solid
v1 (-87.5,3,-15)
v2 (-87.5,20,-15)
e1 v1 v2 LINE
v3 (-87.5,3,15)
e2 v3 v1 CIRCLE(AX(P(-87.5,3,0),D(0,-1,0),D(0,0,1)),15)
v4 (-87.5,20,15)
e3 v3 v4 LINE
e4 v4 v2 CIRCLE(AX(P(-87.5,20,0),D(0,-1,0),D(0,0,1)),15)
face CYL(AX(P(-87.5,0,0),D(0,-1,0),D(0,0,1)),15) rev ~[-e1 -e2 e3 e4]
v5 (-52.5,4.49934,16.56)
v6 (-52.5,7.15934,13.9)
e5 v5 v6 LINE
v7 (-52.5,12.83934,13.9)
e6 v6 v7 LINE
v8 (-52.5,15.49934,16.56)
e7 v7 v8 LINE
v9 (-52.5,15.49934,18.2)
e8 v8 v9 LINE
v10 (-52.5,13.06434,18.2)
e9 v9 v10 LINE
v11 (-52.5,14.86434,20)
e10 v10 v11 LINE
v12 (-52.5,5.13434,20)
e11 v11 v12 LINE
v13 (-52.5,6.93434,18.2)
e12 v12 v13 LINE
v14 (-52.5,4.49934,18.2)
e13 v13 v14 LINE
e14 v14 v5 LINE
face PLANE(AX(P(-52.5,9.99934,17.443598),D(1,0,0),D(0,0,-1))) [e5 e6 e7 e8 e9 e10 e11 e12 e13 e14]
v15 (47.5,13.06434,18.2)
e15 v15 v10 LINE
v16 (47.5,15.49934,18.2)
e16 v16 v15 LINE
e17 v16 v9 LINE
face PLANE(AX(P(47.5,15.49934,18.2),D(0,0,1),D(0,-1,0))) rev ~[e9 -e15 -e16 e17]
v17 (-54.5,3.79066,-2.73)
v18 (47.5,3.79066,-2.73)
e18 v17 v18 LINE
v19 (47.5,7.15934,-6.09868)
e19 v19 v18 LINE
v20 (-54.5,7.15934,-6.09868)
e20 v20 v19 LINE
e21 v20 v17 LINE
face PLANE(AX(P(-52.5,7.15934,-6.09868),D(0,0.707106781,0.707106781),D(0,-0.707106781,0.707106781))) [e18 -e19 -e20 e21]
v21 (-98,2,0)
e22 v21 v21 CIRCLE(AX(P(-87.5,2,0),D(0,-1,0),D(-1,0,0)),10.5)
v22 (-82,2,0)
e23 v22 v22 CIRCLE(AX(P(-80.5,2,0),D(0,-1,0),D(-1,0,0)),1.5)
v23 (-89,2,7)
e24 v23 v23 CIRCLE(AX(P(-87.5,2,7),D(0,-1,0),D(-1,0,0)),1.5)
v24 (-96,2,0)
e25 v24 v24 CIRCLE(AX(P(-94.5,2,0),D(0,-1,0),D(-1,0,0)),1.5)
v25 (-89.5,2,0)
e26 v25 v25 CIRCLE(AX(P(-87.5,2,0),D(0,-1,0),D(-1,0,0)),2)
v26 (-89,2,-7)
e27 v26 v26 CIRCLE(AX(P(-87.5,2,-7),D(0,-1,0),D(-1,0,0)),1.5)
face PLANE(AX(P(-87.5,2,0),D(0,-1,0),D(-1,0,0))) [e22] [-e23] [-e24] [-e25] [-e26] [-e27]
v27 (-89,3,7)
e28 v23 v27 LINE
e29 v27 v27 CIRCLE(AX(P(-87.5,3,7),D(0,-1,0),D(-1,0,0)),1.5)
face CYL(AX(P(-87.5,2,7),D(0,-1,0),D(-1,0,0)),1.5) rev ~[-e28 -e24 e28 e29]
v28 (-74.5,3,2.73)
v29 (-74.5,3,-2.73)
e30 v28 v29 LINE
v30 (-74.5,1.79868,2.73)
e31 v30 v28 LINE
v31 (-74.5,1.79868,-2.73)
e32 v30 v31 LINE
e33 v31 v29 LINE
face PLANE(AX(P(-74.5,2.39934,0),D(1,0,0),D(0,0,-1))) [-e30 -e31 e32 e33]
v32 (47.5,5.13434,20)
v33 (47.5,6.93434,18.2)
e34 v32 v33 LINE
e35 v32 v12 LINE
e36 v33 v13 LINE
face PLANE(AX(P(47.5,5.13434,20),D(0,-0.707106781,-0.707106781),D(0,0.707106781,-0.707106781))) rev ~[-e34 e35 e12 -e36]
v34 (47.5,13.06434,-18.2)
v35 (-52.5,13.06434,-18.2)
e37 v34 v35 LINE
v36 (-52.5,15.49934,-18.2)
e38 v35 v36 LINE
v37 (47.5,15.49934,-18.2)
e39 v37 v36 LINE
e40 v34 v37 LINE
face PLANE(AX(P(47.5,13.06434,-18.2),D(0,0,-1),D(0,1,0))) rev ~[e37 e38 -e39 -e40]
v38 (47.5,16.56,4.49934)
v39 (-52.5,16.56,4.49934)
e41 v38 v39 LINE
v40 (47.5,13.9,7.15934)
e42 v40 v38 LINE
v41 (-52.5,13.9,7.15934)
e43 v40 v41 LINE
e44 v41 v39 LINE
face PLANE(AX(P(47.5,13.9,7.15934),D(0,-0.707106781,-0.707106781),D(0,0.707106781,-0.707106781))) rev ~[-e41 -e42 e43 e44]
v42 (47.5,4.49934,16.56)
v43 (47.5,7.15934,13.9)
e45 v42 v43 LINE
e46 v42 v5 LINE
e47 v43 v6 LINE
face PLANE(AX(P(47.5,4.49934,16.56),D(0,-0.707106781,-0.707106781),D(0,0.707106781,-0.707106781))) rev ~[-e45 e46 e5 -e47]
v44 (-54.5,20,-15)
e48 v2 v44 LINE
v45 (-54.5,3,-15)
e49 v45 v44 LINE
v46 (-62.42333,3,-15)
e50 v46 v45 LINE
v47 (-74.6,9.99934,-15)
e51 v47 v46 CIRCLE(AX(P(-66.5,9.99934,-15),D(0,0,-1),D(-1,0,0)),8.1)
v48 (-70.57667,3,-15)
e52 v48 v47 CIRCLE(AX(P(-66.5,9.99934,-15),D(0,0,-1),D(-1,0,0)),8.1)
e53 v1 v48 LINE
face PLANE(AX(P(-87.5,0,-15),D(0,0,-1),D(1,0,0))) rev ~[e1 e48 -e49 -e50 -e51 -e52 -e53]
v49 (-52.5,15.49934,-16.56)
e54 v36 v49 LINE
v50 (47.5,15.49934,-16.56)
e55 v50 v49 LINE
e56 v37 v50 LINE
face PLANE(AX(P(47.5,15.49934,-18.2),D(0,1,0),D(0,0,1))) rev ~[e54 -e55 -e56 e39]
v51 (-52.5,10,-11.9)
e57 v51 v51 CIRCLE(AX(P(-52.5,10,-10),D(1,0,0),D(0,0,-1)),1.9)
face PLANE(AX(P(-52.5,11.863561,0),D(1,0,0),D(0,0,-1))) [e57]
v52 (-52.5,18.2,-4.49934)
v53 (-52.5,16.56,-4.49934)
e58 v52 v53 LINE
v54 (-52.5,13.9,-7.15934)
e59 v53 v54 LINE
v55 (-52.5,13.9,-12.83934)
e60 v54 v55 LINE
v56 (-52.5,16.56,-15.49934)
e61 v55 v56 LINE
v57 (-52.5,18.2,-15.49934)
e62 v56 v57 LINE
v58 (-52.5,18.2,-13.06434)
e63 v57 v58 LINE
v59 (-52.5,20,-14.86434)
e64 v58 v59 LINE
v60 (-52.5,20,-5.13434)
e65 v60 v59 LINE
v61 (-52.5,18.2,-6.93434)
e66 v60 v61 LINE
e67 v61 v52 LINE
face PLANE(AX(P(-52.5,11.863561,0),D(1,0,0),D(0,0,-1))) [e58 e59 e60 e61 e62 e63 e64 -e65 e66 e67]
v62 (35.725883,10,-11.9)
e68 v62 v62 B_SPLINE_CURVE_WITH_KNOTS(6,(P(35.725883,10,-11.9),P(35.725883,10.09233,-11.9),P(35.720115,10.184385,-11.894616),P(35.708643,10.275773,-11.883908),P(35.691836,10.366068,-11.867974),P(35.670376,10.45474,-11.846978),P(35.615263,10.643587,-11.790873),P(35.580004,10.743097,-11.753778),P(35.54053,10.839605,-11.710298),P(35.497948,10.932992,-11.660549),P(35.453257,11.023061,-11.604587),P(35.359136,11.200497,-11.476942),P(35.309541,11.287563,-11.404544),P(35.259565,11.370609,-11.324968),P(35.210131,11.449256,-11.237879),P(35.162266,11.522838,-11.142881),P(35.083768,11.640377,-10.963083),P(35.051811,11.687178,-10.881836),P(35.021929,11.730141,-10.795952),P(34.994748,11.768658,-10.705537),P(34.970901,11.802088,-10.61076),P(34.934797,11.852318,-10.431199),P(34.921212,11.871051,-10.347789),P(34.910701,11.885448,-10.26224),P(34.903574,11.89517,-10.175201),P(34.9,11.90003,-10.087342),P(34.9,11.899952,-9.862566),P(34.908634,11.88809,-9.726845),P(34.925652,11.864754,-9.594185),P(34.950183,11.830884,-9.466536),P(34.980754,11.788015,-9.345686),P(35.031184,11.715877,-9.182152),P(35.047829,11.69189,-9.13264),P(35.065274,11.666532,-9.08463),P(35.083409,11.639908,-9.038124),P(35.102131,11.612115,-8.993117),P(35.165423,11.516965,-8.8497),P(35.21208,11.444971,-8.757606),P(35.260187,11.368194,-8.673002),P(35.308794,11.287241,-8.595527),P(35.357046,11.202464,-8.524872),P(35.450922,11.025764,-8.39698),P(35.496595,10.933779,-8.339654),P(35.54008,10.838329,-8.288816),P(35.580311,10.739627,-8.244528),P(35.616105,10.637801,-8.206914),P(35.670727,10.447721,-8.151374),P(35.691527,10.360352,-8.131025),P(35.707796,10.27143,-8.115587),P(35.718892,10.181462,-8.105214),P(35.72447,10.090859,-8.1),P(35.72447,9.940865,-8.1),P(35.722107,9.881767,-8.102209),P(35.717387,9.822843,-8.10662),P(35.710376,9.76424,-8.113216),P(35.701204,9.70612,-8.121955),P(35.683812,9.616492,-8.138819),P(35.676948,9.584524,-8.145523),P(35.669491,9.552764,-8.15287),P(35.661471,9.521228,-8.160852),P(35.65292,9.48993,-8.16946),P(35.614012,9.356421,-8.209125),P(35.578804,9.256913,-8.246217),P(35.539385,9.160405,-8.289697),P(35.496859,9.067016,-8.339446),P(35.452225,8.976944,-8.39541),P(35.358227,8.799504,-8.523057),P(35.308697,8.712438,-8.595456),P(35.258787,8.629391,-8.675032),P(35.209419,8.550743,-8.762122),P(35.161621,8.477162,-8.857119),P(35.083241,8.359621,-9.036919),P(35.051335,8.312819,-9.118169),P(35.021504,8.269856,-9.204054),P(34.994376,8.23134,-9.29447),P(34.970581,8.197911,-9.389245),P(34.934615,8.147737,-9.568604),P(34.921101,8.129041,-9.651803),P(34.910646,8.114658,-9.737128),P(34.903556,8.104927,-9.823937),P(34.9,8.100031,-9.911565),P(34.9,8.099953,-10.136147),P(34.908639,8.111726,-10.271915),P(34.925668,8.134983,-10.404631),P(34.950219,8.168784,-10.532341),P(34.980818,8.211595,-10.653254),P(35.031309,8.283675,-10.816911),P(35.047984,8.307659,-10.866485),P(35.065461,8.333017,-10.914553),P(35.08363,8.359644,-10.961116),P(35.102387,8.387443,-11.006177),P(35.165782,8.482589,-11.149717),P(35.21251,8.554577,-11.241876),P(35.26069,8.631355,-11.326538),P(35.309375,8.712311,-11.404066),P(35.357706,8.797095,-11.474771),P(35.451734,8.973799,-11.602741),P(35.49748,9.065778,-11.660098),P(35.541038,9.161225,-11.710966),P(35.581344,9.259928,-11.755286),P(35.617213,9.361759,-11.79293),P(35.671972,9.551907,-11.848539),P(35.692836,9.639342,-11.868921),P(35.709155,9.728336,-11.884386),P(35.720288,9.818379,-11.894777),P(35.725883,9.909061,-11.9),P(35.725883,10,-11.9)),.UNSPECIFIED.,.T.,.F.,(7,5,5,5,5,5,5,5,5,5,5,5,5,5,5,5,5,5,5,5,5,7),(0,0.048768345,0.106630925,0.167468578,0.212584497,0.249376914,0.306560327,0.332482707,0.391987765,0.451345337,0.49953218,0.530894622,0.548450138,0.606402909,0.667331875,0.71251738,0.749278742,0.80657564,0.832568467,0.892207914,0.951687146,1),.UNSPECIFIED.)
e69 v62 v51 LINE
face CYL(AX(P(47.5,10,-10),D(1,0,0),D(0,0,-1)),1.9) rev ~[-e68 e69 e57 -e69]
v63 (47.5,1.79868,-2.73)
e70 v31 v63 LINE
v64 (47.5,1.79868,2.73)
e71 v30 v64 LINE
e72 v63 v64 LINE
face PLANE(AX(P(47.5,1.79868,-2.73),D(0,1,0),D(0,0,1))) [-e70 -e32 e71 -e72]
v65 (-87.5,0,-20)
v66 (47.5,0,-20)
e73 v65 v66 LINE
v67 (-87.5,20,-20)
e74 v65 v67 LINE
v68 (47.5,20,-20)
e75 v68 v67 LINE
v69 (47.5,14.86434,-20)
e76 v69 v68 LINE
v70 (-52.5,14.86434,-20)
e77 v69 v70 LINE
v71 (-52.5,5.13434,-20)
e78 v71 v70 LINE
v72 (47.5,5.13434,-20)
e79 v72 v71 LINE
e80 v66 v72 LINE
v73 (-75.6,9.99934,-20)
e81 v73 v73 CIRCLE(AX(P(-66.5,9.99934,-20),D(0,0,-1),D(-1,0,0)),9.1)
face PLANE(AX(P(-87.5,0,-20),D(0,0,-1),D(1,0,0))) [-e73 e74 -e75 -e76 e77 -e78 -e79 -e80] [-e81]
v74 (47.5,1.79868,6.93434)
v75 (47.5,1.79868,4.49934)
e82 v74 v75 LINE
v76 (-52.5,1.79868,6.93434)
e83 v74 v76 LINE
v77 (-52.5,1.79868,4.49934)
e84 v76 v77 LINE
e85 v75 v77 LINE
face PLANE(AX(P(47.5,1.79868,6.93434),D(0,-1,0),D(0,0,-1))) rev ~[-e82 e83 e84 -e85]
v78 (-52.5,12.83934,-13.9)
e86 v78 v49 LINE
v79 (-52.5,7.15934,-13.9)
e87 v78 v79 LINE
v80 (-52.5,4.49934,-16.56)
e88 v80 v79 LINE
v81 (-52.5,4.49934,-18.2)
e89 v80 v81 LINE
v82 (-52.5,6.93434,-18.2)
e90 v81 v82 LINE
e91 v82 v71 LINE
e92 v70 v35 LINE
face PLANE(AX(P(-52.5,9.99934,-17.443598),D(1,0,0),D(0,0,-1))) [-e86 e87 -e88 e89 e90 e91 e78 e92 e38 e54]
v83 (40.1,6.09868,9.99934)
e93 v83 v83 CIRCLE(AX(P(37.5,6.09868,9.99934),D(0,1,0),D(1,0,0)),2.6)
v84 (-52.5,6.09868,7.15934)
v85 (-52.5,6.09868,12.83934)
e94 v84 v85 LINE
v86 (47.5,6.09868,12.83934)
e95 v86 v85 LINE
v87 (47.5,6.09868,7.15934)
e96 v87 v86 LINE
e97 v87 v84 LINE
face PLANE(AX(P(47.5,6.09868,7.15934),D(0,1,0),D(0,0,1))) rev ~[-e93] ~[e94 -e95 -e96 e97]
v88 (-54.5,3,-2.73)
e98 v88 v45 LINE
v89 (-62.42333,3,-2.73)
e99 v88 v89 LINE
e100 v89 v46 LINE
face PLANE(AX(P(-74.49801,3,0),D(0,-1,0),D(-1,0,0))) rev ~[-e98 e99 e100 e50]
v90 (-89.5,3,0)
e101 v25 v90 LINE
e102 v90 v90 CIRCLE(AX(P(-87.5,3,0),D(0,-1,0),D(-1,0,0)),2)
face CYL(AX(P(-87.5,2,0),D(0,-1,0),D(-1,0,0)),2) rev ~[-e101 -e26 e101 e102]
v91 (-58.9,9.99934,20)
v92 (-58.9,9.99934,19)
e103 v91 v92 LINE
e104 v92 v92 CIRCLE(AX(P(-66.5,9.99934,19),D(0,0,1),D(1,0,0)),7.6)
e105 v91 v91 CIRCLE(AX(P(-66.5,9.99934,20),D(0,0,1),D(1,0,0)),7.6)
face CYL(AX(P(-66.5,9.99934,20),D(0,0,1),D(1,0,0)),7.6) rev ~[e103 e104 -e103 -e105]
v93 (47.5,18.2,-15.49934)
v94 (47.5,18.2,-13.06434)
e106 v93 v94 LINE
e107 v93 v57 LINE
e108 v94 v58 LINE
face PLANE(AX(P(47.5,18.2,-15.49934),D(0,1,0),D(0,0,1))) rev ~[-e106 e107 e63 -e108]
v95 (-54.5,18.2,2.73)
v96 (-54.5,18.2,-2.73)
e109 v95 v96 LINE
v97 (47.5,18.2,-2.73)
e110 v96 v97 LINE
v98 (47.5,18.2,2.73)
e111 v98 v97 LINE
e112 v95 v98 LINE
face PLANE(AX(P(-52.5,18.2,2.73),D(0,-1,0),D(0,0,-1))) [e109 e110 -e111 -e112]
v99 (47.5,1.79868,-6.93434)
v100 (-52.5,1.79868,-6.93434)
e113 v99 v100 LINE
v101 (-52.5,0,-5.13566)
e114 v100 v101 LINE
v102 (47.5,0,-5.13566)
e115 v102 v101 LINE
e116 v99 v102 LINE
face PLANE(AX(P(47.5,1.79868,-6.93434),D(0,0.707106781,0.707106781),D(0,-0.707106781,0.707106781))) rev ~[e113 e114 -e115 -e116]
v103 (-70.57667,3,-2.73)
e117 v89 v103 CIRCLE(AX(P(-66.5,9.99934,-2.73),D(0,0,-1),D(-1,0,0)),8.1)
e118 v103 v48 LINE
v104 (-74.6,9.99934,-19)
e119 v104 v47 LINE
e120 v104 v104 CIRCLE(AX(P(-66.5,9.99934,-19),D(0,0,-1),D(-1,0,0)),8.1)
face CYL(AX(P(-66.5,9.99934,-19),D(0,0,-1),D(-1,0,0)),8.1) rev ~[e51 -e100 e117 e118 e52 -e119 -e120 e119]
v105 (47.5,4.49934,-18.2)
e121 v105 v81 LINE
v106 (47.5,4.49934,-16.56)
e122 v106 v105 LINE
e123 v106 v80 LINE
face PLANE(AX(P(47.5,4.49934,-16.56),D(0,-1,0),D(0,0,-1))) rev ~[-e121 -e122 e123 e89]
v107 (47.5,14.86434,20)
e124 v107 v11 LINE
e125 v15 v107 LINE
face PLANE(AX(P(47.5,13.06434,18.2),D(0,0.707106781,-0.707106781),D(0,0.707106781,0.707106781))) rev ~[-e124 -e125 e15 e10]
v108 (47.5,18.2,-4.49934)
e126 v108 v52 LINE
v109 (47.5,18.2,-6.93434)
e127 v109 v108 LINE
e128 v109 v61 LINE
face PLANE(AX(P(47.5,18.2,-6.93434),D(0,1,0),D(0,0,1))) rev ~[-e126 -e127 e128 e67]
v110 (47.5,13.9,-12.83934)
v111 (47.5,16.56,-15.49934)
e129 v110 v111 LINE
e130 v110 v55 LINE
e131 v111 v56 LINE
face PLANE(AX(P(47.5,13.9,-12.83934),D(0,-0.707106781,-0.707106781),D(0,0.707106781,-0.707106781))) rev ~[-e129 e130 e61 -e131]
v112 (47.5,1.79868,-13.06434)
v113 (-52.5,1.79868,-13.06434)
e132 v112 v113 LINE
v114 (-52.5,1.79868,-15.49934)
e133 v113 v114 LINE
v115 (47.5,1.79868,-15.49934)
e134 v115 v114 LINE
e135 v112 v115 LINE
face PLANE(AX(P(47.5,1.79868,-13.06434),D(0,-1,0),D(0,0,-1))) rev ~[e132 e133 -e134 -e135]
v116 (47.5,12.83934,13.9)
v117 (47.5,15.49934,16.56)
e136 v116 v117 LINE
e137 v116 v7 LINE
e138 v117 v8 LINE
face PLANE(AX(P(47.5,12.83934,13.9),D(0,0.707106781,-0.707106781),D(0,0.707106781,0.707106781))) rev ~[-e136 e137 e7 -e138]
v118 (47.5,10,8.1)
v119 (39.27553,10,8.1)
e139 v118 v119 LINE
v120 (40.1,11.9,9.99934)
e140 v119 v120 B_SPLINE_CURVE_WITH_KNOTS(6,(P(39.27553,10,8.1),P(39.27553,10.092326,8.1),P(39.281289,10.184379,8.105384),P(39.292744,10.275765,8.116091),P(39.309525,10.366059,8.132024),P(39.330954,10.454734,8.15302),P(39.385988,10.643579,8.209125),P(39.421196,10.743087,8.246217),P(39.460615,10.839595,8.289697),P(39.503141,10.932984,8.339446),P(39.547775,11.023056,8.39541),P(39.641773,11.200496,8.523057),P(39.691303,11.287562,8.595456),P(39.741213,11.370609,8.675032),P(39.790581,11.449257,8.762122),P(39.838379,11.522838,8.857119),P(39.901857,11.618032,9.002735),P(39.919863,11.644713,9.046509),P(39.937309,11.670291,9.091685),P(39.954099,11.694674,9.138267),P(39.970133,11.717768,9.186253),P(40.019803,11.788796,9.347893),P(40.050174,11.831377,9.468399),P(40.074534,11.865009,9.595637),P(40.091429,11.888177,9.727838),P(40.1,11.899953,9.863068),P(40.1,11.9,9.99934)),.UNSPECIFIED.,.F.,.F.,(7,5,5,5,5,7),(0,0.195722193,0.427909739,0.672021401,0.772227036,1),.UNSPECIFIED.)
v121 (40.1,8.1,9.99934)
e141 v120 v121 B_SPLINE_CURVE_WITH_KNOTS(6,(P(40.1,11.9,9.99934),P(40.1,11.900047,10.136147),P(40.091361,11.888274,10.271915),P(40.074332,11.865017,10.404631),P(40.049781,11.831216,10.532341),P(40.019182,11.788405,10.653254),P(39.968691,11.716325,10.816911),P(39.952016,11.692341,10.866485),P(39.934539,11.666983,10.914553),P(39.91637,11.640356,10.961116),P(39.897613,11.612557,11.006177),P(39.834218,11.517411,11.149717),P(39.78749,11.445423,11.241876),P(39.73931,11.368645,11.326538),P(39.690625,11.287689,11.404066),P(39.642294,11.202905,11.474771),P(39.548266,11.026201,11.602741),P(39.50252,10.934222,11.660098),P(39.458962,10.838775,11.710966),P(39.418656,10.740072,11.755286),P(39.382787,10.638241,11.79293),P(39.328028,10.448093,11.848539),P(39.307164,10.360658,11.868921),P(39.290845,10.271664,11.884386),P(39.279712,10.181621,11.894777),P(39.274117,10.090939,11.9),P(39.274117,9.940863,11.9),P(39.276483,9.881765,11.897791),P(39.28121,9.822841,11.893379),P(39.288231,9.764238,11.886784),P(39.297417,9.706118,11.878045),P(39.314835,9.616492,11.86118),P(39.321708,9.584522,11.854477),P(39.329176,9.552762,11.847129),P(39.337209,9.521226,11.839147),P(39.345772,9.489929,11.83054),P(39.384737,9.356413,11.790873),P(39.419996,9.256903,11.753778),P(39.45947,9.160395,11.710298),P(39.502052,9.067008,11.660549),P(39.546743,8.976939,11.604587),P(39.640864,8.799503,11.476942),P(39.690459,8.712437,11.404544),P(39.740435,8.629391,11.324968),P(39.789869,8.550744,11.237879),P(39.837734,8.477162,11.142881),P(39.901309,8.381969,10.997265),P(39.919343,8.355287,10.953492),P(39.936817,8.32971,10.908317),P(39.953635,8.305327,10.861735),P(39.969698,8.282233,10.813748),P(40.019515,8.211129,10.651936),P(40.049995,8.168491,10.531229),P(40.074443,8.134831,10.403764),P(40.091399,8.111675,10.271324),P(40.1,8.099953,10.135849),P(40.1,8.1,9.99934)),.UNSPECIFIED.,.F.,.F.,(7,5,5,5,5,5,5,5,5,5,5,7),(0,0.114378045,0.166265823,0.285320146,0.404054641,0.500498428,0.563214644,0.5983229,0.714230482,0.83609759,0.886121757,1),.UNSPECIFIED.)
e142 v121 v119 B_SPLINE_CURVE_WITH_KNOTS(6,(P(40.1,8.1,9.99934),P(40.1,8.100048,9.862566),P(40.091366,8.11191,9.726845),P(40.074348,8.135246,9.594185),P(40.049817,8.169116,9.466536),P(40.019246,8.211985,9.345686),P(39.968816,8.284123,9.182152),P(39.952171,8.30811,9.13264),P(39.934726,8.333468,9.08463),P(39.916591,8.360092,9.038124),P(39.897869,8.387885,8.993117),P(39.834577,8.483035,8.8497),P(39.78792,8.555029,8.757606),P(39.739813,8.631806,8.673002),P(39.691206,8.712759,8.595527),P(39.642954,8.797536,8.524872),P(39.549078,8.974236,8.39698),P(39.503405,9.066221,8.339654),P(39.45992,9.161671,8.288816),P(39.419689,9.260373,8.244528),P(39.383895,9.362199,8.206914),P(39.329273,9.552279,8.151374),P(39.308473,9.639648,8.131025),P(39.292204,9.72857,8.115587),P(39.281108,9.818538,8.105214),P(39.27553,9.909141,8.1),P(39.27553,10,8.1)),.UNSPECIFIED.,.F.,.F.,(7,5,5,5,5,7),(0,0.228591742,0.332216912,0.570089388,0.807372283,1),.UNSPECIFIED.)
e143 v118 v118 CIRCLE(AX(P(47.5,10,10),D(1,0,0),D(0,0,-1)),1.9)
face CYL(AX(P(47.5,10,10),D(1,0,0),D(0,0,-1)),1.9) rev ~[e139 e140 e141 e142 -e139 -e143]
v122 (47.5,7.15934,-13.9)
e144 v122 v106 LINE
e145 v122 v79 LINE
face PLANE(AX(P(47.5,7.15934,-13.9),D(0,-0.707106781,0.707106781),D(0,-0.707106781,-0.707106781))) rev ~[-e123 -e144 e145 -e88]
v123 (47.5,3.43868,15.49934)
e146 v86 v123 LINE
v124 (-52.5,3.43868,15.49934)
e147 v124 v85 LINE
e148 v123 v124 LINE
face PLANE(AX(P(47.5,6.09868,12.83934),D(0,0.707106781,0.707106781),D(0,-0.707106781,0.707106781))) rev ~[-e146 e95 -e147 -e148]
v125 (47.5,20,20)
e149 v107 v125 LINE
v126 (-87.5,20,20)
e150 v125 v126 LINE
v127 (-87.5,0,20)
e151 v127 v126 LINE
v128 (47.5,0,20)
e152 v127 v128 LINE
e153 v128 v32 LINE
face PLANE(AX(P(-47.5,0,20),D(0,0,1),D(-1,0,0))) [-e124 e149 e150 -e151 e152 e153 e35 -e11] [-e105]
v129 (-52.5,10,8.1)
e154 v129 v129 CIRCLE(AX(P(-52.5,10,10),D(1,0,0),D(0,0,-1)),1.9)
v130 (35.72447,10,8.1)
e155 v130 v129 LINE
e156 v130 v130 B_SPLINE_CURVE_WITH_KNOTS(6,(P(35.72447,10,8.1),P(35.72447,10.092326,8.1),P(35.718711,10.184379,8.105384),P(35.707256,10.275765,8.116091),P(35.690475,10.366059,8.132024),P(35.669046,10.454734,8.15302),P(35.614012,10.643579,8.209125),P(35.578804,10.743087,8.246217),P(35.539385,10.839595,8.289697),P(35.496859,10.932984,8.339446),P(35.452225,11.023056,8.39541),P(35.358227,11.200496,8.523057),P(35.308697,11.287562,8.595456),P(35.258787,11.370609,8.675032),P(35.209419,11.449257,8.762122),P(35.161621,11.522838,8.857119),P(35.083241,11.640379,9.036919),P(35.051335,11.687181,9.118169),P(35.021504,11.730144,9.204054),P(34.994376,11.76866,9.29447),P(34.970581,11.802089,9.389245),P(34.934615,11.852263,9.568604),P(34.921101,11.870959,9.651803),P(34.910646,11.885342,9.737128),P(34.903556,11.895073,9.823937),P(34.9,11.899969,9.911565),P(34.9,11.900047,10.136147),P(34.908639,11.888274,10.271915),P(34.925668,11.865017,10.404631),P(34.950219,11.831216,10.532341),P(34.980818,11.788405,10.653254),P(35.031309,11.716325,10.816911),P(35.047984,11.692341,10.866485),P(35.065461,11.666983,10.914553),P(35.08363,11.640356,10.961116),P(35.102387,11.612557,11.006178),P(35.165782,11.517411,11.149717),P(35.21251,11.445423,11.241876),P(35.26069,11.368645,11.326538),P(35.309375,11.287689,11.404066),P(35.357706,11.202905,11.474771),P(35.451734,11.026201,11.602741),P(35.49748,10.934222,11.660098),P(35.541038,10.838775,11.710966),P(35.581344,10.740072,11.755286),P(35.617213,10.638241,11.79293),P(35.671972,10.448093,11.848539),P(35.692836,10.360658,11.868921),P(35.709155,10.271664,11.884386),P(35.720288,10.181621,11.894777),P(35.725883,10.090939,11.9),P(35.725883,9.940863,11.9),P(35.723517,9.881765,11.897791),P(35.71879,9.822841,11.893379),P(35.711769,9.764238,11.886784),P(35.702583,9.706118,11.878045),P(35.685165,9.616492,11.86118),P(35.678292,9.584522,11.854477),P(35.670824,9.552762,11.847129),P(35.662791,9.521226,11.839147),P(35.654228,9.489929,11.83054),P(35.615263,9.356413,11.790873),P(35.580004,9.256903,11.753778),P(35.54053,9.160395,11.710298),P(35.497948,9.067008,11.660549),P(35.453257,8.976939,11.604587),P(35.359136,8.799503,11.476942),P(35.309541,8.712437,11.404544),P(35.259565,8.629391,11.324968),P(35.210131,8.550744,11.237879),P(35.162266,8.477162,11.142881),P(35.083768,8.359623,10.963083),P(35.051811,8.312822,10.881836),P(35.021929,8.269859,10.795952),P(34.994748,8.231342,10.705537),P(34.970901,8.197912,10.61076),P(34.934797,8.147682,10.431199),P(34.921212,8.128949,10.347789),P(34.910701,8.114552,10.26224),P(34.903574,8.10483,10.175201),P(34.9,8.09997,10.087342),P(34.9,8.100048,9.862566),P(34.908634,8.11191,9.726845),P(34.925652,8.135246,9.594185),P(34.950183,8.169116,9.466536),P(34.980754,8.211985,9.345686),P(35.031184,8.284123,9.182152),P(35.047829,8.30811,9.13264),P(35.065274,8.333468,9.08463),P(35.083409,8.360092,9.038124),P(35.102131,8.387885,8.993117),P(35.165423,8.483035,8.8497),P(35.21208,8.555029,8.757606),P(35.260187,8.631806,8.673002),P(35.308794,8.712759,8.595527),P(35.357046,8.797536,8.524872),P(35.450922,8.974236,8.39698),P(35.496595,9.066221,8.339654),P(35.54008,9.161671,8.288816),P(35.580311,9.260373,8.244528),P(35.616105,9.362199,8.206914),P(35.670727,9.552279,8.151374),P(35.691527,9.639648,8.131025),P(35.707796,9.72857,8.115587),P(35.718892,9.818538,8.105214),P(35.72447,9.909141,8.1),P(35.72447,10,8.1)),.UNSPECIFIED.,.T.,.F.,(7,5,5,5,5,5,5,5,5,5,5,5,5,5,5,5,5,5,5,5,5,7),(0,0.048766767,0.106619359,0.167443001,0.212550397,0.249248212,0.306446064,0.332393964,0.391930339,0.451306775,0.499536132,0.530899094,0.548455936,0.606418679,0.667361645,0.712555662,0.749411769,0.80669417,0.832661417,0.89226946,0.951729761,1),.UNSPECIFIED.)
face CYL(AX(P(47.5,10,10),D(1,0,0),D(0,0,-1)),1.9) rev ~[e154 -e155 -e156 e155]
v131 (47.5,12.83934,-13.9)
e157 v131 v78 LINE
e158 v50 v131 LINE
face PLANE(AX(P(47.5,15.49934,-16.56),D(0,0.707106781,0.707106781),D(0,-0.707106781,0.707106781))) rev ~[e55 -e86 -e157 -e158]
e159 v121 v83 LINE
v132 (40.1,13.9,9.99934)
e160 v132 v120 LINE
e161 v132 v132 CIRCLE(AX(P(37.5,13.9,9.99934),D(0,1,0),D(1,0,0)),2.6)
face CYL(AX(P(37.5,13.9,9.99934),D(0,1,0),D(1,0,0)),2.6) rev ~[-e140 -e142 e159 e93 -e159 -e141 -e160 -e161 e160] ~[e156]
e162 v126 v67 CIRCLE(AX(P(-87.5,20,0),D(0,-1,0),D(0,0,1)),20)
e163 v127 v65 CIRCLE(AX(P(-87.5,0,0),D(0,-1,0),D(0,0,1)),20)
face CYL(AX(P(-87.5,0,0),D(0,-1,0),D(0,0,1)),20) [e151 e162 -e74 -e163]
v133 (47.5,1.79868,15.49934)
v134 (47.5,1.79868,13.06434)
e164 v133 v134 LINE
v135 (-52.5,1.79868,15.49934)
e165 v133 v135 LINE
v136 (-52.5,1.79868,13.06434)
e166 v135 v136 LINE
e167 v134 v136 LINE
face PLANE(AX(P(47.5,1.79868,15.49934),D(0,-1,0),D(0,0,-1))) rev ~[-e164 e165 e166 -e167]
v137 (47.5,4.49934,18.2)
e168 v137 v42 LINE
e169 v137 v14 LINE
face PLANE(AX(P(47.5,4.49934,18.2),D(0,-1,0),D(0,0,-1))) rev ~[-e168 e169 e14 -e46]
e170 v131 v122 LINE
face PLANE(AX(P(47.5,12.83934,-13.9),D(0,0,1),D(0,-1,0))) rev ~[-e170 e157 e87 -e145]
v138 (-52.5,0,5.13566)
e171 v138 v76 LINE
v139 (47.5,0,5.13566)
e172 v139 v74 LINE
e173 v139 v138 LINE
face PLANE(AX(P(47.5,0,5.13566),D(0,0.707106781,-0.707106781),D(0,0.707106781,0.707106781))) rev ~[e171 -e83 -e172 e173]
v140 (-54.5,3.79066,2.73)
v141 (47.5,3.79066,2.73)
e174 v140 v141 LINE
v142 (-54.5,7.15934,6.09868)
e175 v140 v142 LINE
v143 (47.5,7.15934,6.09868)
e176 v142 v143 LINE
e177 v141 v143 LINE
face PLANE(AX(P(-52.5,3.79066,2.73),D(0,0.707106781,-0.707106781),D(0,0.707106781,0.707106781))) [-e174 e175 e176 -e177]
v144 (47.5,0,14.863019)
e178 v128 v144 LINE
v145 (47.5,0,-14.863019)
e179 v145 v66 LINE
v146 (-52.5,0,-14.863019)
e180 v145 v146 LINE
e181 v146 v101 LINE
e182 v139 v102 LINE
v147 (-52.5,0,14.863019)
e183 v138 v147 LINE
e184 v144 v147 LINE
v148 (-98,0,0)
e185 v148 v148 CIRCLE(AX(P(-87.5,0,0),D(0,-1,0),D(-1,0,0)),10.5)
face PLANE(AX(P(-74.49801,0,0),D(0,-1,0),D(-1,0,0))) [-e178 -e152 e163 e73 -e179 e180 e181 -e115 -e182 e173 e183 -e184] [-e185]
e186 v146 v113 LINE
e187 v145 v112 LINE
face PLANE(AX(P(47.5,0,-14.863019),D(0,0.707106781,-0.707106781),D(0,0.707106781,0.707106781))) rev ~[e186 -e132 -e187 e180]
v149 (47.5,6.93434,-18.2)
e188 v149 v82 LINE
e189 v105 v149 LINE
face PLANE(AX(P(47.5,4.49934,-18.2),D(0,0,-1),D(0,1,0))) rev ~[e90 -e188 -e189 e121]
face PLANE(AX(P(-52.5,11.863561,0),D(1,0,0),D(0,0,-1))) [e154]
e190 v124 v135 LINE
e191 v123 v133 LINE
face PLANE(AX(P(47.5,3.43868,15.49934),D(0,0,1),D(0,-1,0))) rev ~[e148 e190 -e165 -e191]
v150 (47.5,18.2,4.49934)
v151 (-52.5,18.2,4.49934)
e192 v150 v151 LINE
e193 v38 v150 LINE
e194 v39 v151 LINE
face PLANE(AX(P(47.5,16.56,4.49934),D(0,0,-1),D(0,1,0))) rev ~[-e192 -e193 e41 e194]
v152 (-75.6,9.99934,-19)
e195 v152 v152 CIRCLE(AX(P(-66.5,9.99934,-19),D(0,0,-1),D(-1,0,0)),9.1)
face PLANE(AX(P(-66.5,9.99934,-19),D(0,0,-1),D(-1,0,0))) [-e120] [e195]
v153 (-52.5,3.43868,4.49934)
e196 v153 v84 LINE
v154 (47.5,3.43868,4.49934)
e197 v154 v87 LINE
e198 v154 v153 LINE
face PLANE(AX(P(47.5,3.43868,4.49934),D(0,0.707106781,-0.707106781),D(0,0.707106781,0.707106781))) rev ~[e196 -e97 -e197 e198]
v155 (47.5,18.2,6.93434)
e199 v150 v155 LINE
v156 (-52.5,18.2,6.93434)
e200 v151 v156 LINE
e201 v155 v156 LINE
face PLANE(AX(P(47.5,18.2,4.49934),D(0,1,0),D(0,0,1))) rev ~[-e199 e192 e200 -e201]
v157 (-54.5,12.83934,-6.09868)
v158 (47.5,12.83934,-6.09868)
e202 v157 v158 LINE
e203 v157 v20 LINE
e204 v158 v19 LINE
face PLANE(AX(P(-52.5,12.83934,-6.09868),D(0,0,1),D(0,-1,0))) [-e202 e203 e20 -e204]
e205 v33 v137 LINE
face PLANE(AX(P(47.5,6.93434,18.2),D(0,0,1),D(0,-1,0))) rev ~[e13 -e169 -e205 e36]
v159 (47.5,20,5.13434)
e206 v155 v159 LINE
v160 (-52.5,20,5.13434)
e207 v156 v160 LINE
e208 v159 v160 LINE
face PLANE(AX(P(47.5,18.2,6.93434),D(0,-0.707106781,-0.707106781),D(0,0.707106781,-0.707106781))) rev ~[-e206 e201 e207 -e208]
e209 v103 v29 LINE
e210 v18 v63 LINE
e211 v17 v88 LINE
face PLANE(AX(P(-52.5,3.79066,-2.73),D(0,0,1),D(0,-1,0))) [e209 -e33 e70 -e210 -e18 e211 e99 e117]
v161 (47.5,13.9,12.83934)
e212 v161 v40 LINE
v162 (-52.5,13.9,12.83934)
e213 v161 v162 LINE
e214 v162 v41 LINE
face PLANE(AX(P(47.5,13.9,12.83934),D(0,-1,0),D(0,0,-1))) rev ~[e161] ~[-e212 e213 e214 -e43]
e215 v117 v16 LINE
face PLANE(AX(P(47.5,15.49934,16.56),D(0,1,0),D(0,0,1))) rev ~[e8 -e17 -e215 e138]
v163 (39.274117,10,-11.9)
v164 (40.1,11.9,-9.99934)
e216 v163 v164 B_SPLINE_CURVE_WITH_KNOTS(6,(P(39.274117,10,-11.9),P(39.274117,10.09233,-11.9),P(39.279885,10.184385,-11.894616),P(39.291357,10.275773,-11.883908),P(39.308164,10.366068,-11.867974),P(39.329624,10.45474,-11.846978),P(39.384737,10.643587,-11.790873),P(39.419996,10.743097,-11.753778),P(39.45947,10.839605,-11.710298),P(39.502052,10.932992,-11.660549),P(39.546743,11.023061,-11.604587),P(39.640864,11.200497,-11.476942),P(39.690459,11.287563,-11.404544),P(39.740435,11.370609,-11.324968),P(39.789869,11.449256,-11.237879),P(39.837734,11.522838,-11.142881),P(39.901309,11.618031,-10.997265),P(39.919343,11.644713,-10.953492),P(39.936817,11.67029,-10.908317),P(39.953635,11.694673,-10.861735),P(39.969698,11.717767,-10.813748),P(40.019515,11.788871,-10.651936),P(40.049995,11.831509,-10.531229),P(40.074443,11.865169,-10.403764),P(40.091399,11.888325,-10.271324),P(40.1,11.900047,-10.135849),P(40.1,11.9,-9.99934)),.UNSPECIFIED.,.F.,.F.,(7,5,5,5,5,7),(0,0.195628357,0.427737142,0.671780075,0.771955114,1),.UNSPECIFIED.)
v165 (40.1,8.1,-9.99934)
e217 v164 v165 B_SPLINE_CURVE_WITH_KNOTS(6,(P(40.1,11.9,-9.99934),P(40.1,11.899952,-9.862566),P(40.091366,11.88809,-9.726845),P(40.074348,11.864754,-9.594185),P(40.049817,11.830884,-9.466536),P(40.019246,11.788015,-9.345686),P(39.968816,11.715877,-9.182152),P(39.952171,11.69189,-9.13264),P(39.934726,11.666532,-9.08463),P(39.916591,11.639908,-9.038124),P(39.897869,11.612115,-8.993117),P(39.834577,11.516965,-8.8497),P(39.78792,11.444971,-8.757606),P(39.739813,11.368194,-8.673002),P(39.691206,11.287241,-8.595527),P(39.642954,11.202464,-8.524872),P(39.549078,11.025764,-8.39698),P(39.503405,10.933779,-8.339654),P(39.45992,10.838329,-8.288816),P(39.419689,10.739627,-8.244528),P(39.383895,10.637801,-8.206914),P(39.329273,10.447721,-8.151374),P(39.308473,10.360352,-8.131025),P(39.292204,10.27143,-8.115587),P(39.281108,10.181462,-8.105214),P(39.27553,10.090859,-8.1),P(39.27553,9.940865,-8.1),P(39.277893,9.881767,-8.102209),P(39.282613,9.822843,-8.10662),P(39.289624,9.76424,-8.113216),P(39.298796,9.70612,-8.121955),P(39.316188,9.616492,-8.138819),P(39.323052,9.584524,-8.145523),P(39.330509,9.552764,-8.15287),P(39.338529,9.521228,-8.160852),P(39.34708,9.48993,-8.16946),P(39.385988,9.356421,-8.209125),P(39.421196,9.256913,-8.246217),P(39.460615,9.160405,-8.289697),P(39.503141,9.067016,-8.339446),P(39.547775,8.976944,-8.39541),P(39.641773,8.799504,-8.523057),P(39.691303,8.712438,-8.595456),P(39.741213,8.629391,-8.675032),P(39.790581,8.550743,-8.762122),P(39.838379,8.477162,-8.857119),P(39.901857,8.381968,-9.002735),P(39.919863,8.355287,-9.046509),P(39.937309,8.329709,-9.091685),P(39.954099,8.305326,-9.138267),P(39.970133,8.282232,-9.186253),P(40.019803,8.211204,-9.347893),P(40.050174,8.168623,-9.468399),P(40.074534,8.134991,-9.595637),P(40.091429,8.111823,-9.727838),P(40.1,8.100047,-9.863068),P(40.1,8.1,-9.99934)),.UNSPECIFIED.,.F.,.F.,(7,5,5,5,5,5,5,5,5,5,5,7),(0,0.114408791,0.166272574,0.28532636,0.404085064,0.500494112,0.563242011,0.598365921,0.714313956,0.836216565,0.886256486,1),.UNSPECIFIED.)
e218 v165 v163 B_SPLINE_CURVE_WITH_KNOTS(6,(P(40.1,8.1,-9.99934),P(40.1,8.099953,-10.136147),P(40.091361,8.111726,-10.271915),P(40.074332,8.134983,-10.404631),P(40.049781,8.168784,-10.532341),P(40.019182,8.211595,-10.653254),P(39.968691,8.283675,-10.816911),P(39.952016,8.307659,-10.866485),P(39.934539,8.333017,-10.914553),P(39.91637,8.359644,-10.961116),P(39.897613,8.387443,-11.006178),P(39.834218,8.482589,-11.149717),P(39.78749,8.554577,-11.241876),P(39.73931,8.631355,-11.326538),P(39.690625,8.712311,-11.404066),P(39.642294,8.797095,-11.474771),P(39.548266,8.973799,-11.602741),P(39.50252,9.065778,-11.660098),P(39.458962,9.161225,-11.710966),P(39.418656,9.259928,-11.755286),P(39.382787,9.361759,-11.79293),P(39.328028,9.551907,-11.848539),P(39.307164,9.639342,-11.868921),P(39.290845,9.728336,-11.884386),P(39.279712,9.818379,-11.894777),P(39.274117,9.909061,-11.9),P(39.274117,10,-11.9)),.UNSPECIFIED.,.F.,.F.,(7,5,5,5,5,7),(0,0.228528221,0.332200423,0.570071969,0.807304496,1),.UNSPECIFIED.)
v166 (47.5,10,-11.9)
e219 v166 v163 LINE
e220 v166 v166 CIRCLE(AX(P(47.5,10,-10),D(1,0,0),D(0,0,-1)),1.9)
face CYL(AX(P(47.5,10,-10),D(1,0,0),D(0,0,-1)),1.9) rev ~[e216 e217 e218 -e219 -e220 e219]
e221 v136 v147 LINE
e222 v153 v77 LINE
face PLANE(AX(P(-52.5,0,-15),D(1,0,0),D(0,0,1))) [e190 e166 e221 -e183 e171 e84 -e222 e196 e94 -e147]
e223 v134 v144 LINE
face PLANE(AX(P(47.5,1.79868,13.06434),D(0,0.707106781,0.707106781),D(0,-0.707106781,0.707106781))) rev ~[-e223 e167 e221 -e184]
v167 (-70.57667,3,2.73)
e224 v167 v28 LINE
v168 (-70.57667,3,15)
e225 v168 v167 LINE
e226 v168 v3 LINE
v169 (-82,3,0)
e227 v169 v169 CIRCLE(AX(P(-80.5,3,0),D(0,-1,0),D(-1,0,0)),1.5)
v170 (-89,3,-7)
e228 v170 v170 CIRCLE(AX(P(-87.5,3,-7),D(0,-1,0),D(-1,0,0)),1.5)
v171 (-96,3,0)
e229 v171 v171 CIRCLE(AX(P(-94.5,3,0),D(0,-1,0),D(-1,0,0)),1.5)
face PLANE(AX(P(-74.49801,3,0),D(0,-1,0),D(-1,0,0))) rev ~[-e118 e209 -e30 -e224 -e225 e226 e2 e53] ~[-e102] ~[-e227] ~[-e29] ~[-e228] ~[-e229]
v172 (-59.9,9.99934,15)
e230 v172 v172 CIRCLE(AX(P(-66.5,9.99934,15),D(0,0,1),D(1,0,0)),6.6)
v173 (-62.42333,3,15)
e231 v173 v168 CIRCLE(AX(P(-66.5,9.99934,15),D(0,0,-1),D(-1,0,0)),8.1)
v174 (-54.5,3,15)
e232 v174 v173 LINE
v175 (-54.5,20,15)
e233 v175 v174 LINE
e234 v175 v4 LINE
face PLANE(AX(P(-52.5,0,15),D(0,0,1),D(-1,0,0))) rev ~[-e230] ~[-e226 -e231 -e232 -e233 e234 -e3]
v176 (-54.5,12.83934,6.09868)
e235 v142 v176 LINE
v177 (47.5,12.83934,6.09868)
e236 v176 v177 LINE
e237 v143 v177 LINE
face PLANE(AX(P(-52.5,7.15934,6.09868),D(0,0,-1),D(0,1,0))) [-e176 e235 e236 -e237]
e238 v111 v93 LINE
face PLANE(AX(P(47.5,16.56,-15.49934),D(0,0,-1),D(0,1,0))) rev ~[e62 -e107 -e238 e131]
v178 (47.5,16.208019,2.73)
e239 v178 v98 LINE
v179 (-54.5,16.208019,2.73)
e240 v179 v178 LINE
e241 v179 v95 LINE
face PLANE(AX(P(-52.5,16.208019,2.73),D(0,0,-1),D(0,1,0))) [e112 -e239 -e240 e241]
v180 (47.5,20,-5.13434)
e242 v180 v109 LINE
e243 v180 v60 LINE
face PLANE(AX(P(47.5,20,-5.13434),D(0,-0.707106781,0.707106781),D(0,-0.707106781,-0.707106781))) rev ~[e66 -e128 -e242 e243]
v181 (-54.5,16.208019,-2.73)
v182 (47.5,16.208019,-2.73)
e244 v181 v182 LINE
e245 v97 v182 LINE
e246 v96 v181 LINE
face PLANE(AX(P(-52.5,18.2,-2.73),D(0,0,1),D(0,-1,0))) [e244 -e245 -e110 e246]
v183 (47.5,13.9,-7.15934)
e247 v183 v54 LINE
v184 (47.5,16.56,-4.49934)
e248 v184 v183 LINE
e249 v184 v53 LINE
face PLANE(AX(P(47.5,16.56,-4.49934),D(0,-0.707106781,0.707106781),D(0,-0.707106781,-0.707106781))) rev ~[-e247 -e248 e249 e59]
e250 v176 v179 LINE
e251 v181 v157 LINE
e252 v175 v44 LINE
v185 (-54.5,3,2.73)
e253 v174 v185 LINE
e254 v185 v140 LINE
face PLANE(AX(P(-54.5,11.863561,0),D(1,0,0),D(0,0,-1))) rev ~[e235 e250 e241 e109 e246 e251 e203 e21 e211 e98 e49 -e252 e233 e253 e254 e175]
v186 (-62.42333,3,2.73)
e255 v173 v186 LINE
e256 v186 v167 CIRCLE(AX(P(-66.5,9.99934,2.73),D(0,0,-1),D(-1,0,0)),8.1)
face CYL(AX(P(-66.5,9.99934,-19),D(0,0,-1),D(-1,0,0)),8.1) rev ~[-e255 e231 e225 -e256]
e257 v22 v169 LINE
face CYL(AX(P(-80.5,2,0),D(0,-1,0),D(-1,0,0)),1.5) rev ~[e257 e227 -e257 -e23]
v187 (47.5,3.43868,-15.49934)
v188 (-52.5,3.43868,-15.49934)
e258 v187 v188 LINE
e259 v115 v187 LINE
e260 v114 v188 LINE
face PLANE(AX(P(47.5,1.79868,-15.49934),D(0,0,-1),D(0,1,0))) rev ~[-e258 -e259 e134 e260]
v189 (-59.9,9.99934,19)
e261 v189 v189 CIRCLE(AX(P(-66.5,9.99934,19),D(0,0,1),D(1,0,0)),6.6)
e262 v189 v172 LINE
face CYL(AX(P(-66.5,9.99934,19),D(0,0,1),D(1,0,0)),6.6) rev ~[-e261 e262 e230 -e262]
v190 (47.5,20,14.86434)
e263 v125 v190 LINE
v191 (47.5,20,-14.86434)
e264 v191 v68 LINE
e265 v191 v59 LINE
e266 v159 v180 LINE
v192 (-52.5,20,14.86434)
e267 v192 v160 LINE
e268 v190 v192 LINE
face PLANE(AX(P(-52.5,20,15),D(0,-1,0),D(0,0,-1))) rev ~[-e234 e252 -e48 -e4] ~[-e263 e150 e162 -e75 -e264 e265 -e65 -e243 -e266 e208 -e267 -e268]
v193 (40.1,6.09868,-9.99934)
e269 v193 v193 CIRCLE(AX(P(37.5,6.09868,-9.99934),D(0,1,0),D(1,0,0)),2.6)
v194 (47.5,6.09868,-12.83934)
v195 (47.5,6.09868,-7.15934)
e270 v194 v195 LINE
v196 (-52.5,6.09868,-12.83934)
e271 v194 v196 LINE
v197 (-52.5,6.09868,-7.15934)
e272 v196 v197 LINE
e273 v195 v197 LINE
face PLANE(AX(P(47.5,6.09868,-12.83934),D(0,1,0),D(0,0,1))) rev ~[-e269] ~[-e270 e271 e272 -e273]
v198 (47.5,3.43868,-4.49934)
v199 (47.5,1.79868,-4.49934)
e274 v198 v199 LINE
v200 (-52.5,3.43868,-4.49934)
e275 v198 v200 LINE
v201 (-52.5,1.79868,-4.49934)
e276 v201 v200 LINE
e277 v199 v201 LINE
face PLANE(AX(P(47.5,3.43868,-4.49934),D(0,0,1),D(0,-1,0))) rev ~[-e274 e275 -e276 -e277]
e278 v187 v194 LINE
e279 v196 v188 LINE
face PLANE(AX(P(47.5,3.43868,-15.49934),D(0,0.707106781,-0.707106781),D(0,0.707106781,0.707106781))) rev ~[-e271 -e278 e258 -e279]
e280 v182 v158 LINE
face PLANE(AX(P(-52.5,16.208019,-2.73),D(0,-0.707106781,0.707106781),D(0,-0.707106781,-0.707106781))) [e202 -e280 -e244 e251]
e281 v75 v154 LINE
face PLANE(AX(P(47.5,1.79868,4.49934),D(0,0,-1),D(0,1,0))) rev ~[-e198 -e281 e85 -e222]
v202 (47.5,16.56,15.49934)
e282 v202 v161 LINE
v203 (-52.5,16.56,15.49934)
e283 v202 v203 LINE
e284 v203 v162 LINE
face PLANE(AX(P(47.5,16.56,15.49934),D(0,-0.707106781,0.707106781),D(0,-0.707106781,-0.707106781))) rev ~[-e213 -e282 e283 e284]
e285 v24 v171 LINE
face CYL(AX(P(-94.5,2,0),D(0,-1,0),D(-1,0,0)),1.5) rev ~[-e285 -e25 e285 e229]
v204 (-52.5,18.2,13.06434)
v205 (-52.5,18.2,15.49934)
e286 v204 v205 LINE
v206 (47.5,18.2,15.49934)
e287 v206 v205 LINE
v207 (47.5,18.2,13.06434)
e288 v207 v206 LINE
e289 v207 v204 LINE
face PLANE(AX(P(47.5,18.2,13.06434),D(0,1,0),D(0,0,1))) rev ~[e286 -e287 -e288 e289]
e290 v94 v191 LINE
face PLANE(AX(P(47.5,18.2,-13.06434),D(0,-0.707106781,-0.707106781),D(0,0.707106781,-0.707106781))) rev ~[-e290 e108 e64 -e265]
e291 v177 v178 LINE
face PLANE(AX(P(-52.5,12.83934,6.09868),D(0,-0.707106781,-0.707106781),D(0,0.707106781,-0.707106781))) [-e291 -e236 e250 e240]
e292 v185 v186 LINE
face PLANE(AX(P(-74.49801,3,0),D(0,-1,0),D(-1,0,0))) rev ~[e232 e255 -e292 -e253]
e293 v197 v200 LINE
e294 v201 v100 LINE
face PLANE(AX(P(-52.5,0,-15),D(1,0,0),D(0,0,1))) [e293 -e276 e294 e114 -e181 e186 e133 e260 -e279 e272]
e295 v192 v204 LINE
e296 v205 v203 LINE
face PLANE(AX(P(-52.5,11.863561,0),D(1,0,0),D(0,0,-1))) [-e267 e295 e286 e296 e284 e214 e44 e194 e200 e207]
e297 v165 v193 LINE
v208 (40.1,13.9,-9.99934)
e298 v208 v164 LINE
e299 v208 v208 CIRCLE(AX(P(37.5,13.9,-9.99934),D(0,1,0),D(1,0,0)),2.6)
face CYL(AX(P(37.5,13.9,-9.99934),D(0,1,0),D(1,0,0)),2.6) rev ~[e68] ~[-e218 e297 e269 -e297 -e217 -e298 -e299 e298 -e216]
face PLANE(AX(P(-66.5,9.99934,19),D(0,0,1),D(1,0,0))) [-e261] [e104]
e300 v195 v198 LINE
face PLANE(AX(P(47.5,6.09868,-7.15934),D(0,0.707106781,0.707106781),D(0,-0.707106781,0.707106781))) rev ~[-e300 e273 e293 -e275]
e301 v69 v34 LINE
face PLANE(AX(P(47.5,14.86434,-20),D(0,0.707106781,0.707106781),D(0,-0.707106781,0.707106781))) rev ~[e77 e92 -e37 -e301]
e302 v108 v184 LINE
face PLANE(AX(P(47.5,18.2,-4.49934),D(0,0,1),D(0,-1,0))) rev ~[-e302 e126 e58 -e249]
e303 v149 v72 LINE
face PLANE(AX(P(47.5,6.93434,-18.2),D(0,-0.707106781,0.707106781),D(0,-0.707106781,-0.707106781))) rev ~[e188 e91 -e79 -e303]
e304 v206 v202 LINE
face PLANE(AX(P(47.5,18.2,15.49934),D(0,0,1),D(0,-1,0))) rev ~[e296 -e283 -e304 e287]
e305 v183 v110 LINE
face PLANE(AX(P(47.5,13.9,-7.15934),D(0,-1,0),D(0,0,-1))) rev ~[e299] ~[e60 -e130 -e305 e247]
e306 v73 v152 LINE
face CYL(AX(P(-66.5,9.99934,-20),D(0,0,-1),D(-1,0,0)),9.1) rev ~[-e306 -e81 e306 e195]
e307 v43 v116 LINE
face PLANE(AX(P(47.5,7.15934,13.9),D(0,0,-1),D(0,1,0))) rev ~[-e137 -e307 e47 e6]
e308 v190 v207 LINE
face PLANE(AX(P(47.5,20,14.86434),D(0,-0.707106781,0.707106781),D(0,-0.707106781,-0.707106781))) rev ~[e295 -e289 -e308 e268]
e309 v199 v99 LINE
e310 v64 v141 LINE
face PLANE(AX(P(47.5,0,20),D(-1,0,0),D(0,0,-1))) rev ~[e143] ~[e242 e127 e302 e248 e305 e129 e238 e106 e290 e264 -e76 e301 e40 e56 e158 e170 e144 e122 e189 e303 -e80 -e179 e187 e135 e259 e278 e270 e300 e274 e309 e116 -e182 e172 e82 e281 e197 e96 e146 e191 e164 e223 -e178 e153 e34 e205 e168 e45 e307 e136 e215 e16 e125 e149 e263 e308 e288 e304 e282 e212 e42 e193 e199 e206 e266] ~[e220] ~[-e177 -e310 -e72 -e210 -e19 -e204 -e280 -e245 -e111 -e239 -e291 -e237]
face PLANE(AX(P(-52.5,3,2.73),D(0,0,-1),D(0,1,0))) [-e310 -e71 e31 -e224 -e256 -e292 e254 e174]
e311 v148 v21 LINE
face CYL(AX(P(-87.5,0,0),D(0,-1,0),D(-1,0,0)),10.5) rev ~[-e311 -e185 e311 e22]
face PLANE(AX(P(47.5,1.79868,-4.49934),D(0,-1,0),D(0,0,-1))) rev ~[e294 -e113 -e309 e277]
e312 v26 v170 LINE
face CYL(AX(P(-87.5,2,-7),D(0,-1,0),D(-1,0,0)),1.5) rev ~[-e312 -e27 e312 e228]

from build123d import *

# Parameters (mm, degrees)
SKETCH1_W           = 95
SKETCH1_H           = 40
BOSS_EXTRUDE1_DEPTH = 20
BOSS_EXTRUDE3_DEPTH = 3
BOSS_EXTRUDE2_DEPTH = 20
SKETCH7_R           = 1.9
CUT_EXTRUDE5_DEPTH  = 100
BOSS_EXTRUDE4_DEPTH = 2
SKETCH10_R          = 10.5
CUT_EXTRUDE6_DEPTH  = 2
CUT_EXTRUDE7_REACH  = 20
SKETCH12_R          = 2
SKETCH12_R_2        = 1.5
SKETCH13_R          = 7.6
CUT_EXTRUDE9_DEPTH  = 1
CUT_EXTRUDE10_REACH = 41
SKETCH15_R          = 6.6
SKETCH16_R          = 2.6
CUT_EXTRUDE11_DEPTH = 14.9
SKETCH18_R          = 9.1
CUT_EXTRUDE12_DEPTH = 1
SKETCH19_R          = 8.1
CUT_EXTRUDE15_DEPTH = 34
SKETCH20_W          = 5.46
SKETCH20_H          = 1.201320344
CUT_EXTRUDE16_DEPTH = 22


with BuildPart() as part:
    # Sketch1 → Boss-Extrude1 (new body)
    with BuildSketch(Plane(origin=(0, 0, 0), x_dir=(1, 0, 0), z_dir=(0, 1, 0))):
        Rectangle(SKETCH1_W, SKETCH1_H)
    extrude(amount=BOSS_EXTRUDE1_DEPTH)

    # Sketch8 → Boss-Extrude2 (add)
    with BuildSketch(Plane(origin=(0, 0, 0), x_dir=(-1, 0, 0), z_dir=(0, -1, 0))):
        with BuildLine():
            Line((47.5, -20), (87.5, -20))
            ThreePointArc((87.5, -20), (107.5, 0), (87.5, 20))
            Line((87.5, 20), (47.5, 20))
            Line((47.5, 20), (47.5, -20))
        make_face()
        with BuildLine():
            Line((52.5, -15), (87.5, -15))
            ThreePointArc((87.5, -15), (102.5, 0), (87.5, 15))
            Line((87.5, 15), (52.5, 15))
            Line((52.5, 15), (52.5, -15))
        make_face(mode=Mode.SUBTRACT)
    extrude(amount=-BOSS_EXTRUDE2_DEPTH)

    # Sketch7 → Cut-Extrude5 (cut)
    with BuildSketch(Plane(origin=(47.5, 0, 0), x_dir=(0, 0, -1), z_dir=(1, 0, 0))):
        Polygon((-18.2, 13.064339828), (-20, 14.864339828), (-20, 5.134339828), (-18.2, 6.934339828), (-18.2, 4.499339828), (-16.56, 4.499339828), (-13.9, 7.159339828), (-13.9, 12.839339828), (-16.56, 15.499339828), (-18.2, 15.499339828), align=None)
        Polygon((-12.839339828, 13.9), (-7.159339828, 13.9), (-4.499339828, 16.56), (-4.499339828, 18.2), (-6.934339828, 18.2), (-5.134339828, 20), (-14.864339828, 20), (-13.064339828, 18.2), (-15.499339828, 18.2), (-15.499339828, 16.56), align=None)
        Polygon((-13.064339828, 1.798679656), (-14.863019485, 0), (-5.135660172, 0), (-6.934339828, 1.798679656), (-4.499339828, 1.798679656), (-4.499339828, 3.438679656), (-7.159339828, 6.098679656), (-12.839339828, 6.098679656), (-15.499339828, 3.438679656), (-15.499339828, 1.798679656), align=None)
        Polygon((14.864339828, 20), (5.134339828, 20), (6.934339828, 18.2), (4.499339828, 18.2), (4.499339828, 16.56), (7.159339828, 13.9), (12.839339828, 13.9), (15.499339828, 16.56), (15.499339828, 18.2), (13.064339828, 18.2), align=None)
        Polygon((5.135660172, 0), (14.863019485, 0), (13.064339828, 1.798679656), (15.499339828, 1.798679656), (15.499339828, 3.438679656), (12.839339828, 6.098679656), (7.159339828, 6.098679656), (4.499339828, 3.438679656), (4.499339828, 1.798679656), (6.934339828, 1.798679656), align=None)
        Polygon((20, 5.134339828), (20, 14.864339828), (18.2, 13.064339828), (18.2, 15.499339828), (16.56, 15.499339828), (13.9, 12.839339828), (13.9, 7.159339828), (16.56, 4.499339828), (18.2, 4.499339828), (18.2, 6.934339828), align=None)
        Polygon((6.098679656, 12.839339828), (6.098679656, 7.159339828), (2.73, 3.790660172), (2.73, 1.798679656), (-2.73, 1.798679656), (-2.73, 3.790660172), (-6.098679656, 7.159339828), (-6.098679656, 12.839339828), (-2.73, 16.208019485), (-2.73, 18.2), (2.73, 18.2), (2.73, 16.208019485), align=None)
        with Locations((-10, 10)):
            Circle(SKETCH7_R)
        with Locations((10, 10)):
            Circle(SKETCH7_R)
    extrude(amount=-CUT_EXTRUDE5_DEPTH, mode=Mode.SUBTRACT)



with BuildPart() as body_2:
    # Sketch8<3> → Boss-Extrude3 (new body)
    with BuildSketch(Plane(origin=(0, 0, 0), x_dir=(-1, 0, 0), z_dir=(0, -1, 0))):
        with BuildLine():
            Line((52.5, -15), (87.5, -15))
            ThreePointArc((87.5, -15), (102.5, 0), (87.5, 15))
            Line((87.5, 15), (52.5, 15))
            Line((52.5, 15), (52.5, -15))
        make_face()
    extrude(amount=-BOSS_EXTRUDE3_DEPTH)


with BuildPart() as part_1:
    add(part.part)

    add(body_2.part)  # Boss-Extrude4 merges body 2
    # Sketch9 → Boss-Extrude4 (add)
    with BuildSketch(Plane.ZY.offset(52.5)):
        Polygon((-15, 20), (-2.73, 20), (2.73, 20), (15, 20), (15, 3), (2.73, 3), (2.73, 3.790660172), (6.098679656, 7.159339828), (6.098679656, 12.839339828), (2.73, 16.208019485), (2.73, 18.2), (-2.73, 18.2), (-2.73, 16.208019485), (-6.098679656, 12.839339828), (-6.098679656, 7.159339828), (-2.73, 3.790660172), (-2.73, 3), (-15, 3), align=None)
    extrude(amount=BOSS_EXTRUDE4_DEPTH)

    # Sketch10 → Cut-Extrude6 (cut)
    with BuildSketch(Plane(origin=(0, 0, 0), x_dir=(-1, 0, 0), z_dir=(0, -1, 0))):
        with Locations((87.5, 0)):
            Circle(SKETCH10_R)
    extrude(amount=-CUT_EXTRUDE6_DEPTH, mode=Mode.SUBTRACT)

    # Sketch12 → Cut-Extrude7 (cut, up to next)
    with BuildSketch(Plane(origin=(0, 2, 0), x_dir=(-1, 0, 0), z_dir=(0, -1, 0)), mode=Mode.PRIVATE) as cut_extrude7_sk1:
        with Locations((87.5, 0)):
            Circle(SKETCH12_R)
    cut_extrude7_tool1 = extrude(cut_extrude7_sk1.sketch, amount=-CUT_EXTRUDE7_REACH, mode=Mode.PRIVATE) & part_1.part
    add(cut_extrude7_tool1.solids().sort_by_distance((-87.5, 2, 0))[0], mode=Mode.SUBTRACT)
    # Sketch12 → Cut-Extrude7 (cut, up to next)
    with BuildSketch(Plane(origin=(0, 2, 0), x_dir=(-1, 0, 0), z_dir=(0, -1, 0)), mode=Mode.PRIVATE) as cut_extrude7_sk2:
        with Locations((87.5, -7)):
            Circle(SKETCH12_R_2)
    cut_extrude7_tool2 = extrude(cut_extrude7_sk2.sketch, amount=-CUT_EXTRUDE7_REACH, mode=Mode.PRIVATE) & part_1.part
    add(cut_extrude7_tool2.solids().sort_by_distance((-87.5, 2, 7))[0], mode=Mode.SUBTRACT)
    # Sketch12 → Cut-Extrude7 (cut, up to next)
    with BuildSketch(Plane(origin=(0, 2, 0), x_dir=(-1, 0, 0), z_dir=(0, -1, 0)), mode=Mode.PRIVATE) as cut_extrude7_sk3:
        with Locations((80.5, 0)):
            Circle(SKETCH12_R_2)
    cut_extrude7_tool3 = extrude(cut_extrude7_sk3.sketch, amount=-CUT_EXTRUDE7_REACH, mode=Mode.PRIVATE) & part_1.part
    add(cut_extrude7_tool3.solids().sort_by_distance((-80.5, 2, 0))[0], mode=Mode.SUBTRACT)
    # Sketch12 → Cut-Extrude7 (cut, up to next)
    with BuildSketch(Plane(origin=(0, 2, 0), x_dir=(-1, 0, 0), z_dir=(0, -1, 0)), mode=Mode.PRIVATE) as cut_extrude7_sk4:
        with Locations((87.5, 7)):
            Circle(SKETCH12_R_2)
    cut_extrude7_tool4 = extrude(cut_extrude7_sk4.sketch, amount=-CUT_EXTRUDE7_REACH, mode=Mode.PRIVATE) & part_1.part
    add(cut_extrude7_tool4.solids().sort_by_distance((-87.5, 2, -7))[0], mode=Mode.SUBTRACT)
    # Sketch12 → Cut-Extrude7 (cut, up to next)
    with BuildSketch(Plane(origin=(0, 2, 0), x_dir=(-1, 0, 0), z_dir=(0, -1, 0)), mode=Mode.PRIVATE) as cut_extrude7_sk5:
        with Locations((94.5, 0)):
            Circle(SKETCH12_R_2)
    cut_extrude7_tool5 = extrude(cut_extrude7_sk5.sketch, amount=-CUT_EXTRUDE7_REACH, mode=Mode.PRIVATE) & part_1.part
    add(cut_extrude7_tool5.solids().sort_by_distance((-94.5, 2, 0))[0], mode=Mode.SUBTRACT)

    # Sketch13 → Cut-Extrude9 (cut)
    with BuildSketch(Plane.XY.offset(20)):
        with Locations((-66.5, 9.999339828)):
            Circle(SKETCH13_R)
    extrude(amount=-CUT_EXTRUDE9_DEPTH, mode=Mode.SUBTRACT)

    # Sketch15 → Cut-Extrude10 (cut, up to next)
    with BuildSketch(Plane.XY.offset(19), mode=Mode.PRIVATE) as cut_extrude10_sk1:
        with Locations((-66.5, 9.999339828)):
            Circle(SKETCH15_R)
    cut_extrude10_tool1 = extrude(cut_extrude10_sk1.sketch, amount=-CUT_EXTRUDE10_REACH, mode=Mode.PRIVATE) & part_1.part
    add(cut_extrude10_tool1.solids().sort_by_distance((-66.5, 9.99934, 19))[0], mode=Mode.SUBTRACT)

    # Sketch16 → Cut-Extrude11 (cut, through all)
    with BuildSketch(Plane(origin=(0, 13.9, 0), x_dir=(1, 0, 0), z_dir=(0, 1, 0))):
        with Locations((37.5, -9.999339828)):
            Circle(SKETCH16_R)
        with Locations((37.5, 9.999339828)):
            Circle(SKETCH16_R)
    extrude(amount=-CUT_EXTRUDE11_DEPTH, mode=Mode.SUBTRACT)

    # Sketch18 → Cut-Extrude12 (cut)
    with BuildSketch(Plane(origin=(0, 0, -20), x_dir=(-1, 0, 0), z_dir=(0, 0, -1))):
        with Locations((66.5, 9.999339828)):
            Circle(SKETCH18_R)
    extrude(amount=-CUT_EXTRUDE12_DEPTH, mode=Mode.SUBTRACT)

    # Sketch19 → Cut-Extrude15 (cut)
    with BuildSketch(Plane(origin=(0, 0, -19), x_dir=(-1, 0, 0), z_dir=(0, 0, -1))):
        with Locations((66.5, 9.999339828)):
            Circle(SKETCH19_R)
    extrude(amount=-CUT_EXTRUDE15_DEPTH, mode=Mode.SUBTRACT)

    # Sketch20 → Cut-Extrude16 (cut)
    with BuildSketch(Plane(origin=(-52.5, 0, 0), x_dir=(0, 0, -1), z_dir=(1, 0, 0))):
        with Locations((0, 2.399339828)):
            Rectangle(SKETCH20_W, SKETCH20_H)
    extrude(amount=-CUT_EXTRUDE16_DEPTH, mode=Mode.SUBTRACT)


solid = part_1.part
